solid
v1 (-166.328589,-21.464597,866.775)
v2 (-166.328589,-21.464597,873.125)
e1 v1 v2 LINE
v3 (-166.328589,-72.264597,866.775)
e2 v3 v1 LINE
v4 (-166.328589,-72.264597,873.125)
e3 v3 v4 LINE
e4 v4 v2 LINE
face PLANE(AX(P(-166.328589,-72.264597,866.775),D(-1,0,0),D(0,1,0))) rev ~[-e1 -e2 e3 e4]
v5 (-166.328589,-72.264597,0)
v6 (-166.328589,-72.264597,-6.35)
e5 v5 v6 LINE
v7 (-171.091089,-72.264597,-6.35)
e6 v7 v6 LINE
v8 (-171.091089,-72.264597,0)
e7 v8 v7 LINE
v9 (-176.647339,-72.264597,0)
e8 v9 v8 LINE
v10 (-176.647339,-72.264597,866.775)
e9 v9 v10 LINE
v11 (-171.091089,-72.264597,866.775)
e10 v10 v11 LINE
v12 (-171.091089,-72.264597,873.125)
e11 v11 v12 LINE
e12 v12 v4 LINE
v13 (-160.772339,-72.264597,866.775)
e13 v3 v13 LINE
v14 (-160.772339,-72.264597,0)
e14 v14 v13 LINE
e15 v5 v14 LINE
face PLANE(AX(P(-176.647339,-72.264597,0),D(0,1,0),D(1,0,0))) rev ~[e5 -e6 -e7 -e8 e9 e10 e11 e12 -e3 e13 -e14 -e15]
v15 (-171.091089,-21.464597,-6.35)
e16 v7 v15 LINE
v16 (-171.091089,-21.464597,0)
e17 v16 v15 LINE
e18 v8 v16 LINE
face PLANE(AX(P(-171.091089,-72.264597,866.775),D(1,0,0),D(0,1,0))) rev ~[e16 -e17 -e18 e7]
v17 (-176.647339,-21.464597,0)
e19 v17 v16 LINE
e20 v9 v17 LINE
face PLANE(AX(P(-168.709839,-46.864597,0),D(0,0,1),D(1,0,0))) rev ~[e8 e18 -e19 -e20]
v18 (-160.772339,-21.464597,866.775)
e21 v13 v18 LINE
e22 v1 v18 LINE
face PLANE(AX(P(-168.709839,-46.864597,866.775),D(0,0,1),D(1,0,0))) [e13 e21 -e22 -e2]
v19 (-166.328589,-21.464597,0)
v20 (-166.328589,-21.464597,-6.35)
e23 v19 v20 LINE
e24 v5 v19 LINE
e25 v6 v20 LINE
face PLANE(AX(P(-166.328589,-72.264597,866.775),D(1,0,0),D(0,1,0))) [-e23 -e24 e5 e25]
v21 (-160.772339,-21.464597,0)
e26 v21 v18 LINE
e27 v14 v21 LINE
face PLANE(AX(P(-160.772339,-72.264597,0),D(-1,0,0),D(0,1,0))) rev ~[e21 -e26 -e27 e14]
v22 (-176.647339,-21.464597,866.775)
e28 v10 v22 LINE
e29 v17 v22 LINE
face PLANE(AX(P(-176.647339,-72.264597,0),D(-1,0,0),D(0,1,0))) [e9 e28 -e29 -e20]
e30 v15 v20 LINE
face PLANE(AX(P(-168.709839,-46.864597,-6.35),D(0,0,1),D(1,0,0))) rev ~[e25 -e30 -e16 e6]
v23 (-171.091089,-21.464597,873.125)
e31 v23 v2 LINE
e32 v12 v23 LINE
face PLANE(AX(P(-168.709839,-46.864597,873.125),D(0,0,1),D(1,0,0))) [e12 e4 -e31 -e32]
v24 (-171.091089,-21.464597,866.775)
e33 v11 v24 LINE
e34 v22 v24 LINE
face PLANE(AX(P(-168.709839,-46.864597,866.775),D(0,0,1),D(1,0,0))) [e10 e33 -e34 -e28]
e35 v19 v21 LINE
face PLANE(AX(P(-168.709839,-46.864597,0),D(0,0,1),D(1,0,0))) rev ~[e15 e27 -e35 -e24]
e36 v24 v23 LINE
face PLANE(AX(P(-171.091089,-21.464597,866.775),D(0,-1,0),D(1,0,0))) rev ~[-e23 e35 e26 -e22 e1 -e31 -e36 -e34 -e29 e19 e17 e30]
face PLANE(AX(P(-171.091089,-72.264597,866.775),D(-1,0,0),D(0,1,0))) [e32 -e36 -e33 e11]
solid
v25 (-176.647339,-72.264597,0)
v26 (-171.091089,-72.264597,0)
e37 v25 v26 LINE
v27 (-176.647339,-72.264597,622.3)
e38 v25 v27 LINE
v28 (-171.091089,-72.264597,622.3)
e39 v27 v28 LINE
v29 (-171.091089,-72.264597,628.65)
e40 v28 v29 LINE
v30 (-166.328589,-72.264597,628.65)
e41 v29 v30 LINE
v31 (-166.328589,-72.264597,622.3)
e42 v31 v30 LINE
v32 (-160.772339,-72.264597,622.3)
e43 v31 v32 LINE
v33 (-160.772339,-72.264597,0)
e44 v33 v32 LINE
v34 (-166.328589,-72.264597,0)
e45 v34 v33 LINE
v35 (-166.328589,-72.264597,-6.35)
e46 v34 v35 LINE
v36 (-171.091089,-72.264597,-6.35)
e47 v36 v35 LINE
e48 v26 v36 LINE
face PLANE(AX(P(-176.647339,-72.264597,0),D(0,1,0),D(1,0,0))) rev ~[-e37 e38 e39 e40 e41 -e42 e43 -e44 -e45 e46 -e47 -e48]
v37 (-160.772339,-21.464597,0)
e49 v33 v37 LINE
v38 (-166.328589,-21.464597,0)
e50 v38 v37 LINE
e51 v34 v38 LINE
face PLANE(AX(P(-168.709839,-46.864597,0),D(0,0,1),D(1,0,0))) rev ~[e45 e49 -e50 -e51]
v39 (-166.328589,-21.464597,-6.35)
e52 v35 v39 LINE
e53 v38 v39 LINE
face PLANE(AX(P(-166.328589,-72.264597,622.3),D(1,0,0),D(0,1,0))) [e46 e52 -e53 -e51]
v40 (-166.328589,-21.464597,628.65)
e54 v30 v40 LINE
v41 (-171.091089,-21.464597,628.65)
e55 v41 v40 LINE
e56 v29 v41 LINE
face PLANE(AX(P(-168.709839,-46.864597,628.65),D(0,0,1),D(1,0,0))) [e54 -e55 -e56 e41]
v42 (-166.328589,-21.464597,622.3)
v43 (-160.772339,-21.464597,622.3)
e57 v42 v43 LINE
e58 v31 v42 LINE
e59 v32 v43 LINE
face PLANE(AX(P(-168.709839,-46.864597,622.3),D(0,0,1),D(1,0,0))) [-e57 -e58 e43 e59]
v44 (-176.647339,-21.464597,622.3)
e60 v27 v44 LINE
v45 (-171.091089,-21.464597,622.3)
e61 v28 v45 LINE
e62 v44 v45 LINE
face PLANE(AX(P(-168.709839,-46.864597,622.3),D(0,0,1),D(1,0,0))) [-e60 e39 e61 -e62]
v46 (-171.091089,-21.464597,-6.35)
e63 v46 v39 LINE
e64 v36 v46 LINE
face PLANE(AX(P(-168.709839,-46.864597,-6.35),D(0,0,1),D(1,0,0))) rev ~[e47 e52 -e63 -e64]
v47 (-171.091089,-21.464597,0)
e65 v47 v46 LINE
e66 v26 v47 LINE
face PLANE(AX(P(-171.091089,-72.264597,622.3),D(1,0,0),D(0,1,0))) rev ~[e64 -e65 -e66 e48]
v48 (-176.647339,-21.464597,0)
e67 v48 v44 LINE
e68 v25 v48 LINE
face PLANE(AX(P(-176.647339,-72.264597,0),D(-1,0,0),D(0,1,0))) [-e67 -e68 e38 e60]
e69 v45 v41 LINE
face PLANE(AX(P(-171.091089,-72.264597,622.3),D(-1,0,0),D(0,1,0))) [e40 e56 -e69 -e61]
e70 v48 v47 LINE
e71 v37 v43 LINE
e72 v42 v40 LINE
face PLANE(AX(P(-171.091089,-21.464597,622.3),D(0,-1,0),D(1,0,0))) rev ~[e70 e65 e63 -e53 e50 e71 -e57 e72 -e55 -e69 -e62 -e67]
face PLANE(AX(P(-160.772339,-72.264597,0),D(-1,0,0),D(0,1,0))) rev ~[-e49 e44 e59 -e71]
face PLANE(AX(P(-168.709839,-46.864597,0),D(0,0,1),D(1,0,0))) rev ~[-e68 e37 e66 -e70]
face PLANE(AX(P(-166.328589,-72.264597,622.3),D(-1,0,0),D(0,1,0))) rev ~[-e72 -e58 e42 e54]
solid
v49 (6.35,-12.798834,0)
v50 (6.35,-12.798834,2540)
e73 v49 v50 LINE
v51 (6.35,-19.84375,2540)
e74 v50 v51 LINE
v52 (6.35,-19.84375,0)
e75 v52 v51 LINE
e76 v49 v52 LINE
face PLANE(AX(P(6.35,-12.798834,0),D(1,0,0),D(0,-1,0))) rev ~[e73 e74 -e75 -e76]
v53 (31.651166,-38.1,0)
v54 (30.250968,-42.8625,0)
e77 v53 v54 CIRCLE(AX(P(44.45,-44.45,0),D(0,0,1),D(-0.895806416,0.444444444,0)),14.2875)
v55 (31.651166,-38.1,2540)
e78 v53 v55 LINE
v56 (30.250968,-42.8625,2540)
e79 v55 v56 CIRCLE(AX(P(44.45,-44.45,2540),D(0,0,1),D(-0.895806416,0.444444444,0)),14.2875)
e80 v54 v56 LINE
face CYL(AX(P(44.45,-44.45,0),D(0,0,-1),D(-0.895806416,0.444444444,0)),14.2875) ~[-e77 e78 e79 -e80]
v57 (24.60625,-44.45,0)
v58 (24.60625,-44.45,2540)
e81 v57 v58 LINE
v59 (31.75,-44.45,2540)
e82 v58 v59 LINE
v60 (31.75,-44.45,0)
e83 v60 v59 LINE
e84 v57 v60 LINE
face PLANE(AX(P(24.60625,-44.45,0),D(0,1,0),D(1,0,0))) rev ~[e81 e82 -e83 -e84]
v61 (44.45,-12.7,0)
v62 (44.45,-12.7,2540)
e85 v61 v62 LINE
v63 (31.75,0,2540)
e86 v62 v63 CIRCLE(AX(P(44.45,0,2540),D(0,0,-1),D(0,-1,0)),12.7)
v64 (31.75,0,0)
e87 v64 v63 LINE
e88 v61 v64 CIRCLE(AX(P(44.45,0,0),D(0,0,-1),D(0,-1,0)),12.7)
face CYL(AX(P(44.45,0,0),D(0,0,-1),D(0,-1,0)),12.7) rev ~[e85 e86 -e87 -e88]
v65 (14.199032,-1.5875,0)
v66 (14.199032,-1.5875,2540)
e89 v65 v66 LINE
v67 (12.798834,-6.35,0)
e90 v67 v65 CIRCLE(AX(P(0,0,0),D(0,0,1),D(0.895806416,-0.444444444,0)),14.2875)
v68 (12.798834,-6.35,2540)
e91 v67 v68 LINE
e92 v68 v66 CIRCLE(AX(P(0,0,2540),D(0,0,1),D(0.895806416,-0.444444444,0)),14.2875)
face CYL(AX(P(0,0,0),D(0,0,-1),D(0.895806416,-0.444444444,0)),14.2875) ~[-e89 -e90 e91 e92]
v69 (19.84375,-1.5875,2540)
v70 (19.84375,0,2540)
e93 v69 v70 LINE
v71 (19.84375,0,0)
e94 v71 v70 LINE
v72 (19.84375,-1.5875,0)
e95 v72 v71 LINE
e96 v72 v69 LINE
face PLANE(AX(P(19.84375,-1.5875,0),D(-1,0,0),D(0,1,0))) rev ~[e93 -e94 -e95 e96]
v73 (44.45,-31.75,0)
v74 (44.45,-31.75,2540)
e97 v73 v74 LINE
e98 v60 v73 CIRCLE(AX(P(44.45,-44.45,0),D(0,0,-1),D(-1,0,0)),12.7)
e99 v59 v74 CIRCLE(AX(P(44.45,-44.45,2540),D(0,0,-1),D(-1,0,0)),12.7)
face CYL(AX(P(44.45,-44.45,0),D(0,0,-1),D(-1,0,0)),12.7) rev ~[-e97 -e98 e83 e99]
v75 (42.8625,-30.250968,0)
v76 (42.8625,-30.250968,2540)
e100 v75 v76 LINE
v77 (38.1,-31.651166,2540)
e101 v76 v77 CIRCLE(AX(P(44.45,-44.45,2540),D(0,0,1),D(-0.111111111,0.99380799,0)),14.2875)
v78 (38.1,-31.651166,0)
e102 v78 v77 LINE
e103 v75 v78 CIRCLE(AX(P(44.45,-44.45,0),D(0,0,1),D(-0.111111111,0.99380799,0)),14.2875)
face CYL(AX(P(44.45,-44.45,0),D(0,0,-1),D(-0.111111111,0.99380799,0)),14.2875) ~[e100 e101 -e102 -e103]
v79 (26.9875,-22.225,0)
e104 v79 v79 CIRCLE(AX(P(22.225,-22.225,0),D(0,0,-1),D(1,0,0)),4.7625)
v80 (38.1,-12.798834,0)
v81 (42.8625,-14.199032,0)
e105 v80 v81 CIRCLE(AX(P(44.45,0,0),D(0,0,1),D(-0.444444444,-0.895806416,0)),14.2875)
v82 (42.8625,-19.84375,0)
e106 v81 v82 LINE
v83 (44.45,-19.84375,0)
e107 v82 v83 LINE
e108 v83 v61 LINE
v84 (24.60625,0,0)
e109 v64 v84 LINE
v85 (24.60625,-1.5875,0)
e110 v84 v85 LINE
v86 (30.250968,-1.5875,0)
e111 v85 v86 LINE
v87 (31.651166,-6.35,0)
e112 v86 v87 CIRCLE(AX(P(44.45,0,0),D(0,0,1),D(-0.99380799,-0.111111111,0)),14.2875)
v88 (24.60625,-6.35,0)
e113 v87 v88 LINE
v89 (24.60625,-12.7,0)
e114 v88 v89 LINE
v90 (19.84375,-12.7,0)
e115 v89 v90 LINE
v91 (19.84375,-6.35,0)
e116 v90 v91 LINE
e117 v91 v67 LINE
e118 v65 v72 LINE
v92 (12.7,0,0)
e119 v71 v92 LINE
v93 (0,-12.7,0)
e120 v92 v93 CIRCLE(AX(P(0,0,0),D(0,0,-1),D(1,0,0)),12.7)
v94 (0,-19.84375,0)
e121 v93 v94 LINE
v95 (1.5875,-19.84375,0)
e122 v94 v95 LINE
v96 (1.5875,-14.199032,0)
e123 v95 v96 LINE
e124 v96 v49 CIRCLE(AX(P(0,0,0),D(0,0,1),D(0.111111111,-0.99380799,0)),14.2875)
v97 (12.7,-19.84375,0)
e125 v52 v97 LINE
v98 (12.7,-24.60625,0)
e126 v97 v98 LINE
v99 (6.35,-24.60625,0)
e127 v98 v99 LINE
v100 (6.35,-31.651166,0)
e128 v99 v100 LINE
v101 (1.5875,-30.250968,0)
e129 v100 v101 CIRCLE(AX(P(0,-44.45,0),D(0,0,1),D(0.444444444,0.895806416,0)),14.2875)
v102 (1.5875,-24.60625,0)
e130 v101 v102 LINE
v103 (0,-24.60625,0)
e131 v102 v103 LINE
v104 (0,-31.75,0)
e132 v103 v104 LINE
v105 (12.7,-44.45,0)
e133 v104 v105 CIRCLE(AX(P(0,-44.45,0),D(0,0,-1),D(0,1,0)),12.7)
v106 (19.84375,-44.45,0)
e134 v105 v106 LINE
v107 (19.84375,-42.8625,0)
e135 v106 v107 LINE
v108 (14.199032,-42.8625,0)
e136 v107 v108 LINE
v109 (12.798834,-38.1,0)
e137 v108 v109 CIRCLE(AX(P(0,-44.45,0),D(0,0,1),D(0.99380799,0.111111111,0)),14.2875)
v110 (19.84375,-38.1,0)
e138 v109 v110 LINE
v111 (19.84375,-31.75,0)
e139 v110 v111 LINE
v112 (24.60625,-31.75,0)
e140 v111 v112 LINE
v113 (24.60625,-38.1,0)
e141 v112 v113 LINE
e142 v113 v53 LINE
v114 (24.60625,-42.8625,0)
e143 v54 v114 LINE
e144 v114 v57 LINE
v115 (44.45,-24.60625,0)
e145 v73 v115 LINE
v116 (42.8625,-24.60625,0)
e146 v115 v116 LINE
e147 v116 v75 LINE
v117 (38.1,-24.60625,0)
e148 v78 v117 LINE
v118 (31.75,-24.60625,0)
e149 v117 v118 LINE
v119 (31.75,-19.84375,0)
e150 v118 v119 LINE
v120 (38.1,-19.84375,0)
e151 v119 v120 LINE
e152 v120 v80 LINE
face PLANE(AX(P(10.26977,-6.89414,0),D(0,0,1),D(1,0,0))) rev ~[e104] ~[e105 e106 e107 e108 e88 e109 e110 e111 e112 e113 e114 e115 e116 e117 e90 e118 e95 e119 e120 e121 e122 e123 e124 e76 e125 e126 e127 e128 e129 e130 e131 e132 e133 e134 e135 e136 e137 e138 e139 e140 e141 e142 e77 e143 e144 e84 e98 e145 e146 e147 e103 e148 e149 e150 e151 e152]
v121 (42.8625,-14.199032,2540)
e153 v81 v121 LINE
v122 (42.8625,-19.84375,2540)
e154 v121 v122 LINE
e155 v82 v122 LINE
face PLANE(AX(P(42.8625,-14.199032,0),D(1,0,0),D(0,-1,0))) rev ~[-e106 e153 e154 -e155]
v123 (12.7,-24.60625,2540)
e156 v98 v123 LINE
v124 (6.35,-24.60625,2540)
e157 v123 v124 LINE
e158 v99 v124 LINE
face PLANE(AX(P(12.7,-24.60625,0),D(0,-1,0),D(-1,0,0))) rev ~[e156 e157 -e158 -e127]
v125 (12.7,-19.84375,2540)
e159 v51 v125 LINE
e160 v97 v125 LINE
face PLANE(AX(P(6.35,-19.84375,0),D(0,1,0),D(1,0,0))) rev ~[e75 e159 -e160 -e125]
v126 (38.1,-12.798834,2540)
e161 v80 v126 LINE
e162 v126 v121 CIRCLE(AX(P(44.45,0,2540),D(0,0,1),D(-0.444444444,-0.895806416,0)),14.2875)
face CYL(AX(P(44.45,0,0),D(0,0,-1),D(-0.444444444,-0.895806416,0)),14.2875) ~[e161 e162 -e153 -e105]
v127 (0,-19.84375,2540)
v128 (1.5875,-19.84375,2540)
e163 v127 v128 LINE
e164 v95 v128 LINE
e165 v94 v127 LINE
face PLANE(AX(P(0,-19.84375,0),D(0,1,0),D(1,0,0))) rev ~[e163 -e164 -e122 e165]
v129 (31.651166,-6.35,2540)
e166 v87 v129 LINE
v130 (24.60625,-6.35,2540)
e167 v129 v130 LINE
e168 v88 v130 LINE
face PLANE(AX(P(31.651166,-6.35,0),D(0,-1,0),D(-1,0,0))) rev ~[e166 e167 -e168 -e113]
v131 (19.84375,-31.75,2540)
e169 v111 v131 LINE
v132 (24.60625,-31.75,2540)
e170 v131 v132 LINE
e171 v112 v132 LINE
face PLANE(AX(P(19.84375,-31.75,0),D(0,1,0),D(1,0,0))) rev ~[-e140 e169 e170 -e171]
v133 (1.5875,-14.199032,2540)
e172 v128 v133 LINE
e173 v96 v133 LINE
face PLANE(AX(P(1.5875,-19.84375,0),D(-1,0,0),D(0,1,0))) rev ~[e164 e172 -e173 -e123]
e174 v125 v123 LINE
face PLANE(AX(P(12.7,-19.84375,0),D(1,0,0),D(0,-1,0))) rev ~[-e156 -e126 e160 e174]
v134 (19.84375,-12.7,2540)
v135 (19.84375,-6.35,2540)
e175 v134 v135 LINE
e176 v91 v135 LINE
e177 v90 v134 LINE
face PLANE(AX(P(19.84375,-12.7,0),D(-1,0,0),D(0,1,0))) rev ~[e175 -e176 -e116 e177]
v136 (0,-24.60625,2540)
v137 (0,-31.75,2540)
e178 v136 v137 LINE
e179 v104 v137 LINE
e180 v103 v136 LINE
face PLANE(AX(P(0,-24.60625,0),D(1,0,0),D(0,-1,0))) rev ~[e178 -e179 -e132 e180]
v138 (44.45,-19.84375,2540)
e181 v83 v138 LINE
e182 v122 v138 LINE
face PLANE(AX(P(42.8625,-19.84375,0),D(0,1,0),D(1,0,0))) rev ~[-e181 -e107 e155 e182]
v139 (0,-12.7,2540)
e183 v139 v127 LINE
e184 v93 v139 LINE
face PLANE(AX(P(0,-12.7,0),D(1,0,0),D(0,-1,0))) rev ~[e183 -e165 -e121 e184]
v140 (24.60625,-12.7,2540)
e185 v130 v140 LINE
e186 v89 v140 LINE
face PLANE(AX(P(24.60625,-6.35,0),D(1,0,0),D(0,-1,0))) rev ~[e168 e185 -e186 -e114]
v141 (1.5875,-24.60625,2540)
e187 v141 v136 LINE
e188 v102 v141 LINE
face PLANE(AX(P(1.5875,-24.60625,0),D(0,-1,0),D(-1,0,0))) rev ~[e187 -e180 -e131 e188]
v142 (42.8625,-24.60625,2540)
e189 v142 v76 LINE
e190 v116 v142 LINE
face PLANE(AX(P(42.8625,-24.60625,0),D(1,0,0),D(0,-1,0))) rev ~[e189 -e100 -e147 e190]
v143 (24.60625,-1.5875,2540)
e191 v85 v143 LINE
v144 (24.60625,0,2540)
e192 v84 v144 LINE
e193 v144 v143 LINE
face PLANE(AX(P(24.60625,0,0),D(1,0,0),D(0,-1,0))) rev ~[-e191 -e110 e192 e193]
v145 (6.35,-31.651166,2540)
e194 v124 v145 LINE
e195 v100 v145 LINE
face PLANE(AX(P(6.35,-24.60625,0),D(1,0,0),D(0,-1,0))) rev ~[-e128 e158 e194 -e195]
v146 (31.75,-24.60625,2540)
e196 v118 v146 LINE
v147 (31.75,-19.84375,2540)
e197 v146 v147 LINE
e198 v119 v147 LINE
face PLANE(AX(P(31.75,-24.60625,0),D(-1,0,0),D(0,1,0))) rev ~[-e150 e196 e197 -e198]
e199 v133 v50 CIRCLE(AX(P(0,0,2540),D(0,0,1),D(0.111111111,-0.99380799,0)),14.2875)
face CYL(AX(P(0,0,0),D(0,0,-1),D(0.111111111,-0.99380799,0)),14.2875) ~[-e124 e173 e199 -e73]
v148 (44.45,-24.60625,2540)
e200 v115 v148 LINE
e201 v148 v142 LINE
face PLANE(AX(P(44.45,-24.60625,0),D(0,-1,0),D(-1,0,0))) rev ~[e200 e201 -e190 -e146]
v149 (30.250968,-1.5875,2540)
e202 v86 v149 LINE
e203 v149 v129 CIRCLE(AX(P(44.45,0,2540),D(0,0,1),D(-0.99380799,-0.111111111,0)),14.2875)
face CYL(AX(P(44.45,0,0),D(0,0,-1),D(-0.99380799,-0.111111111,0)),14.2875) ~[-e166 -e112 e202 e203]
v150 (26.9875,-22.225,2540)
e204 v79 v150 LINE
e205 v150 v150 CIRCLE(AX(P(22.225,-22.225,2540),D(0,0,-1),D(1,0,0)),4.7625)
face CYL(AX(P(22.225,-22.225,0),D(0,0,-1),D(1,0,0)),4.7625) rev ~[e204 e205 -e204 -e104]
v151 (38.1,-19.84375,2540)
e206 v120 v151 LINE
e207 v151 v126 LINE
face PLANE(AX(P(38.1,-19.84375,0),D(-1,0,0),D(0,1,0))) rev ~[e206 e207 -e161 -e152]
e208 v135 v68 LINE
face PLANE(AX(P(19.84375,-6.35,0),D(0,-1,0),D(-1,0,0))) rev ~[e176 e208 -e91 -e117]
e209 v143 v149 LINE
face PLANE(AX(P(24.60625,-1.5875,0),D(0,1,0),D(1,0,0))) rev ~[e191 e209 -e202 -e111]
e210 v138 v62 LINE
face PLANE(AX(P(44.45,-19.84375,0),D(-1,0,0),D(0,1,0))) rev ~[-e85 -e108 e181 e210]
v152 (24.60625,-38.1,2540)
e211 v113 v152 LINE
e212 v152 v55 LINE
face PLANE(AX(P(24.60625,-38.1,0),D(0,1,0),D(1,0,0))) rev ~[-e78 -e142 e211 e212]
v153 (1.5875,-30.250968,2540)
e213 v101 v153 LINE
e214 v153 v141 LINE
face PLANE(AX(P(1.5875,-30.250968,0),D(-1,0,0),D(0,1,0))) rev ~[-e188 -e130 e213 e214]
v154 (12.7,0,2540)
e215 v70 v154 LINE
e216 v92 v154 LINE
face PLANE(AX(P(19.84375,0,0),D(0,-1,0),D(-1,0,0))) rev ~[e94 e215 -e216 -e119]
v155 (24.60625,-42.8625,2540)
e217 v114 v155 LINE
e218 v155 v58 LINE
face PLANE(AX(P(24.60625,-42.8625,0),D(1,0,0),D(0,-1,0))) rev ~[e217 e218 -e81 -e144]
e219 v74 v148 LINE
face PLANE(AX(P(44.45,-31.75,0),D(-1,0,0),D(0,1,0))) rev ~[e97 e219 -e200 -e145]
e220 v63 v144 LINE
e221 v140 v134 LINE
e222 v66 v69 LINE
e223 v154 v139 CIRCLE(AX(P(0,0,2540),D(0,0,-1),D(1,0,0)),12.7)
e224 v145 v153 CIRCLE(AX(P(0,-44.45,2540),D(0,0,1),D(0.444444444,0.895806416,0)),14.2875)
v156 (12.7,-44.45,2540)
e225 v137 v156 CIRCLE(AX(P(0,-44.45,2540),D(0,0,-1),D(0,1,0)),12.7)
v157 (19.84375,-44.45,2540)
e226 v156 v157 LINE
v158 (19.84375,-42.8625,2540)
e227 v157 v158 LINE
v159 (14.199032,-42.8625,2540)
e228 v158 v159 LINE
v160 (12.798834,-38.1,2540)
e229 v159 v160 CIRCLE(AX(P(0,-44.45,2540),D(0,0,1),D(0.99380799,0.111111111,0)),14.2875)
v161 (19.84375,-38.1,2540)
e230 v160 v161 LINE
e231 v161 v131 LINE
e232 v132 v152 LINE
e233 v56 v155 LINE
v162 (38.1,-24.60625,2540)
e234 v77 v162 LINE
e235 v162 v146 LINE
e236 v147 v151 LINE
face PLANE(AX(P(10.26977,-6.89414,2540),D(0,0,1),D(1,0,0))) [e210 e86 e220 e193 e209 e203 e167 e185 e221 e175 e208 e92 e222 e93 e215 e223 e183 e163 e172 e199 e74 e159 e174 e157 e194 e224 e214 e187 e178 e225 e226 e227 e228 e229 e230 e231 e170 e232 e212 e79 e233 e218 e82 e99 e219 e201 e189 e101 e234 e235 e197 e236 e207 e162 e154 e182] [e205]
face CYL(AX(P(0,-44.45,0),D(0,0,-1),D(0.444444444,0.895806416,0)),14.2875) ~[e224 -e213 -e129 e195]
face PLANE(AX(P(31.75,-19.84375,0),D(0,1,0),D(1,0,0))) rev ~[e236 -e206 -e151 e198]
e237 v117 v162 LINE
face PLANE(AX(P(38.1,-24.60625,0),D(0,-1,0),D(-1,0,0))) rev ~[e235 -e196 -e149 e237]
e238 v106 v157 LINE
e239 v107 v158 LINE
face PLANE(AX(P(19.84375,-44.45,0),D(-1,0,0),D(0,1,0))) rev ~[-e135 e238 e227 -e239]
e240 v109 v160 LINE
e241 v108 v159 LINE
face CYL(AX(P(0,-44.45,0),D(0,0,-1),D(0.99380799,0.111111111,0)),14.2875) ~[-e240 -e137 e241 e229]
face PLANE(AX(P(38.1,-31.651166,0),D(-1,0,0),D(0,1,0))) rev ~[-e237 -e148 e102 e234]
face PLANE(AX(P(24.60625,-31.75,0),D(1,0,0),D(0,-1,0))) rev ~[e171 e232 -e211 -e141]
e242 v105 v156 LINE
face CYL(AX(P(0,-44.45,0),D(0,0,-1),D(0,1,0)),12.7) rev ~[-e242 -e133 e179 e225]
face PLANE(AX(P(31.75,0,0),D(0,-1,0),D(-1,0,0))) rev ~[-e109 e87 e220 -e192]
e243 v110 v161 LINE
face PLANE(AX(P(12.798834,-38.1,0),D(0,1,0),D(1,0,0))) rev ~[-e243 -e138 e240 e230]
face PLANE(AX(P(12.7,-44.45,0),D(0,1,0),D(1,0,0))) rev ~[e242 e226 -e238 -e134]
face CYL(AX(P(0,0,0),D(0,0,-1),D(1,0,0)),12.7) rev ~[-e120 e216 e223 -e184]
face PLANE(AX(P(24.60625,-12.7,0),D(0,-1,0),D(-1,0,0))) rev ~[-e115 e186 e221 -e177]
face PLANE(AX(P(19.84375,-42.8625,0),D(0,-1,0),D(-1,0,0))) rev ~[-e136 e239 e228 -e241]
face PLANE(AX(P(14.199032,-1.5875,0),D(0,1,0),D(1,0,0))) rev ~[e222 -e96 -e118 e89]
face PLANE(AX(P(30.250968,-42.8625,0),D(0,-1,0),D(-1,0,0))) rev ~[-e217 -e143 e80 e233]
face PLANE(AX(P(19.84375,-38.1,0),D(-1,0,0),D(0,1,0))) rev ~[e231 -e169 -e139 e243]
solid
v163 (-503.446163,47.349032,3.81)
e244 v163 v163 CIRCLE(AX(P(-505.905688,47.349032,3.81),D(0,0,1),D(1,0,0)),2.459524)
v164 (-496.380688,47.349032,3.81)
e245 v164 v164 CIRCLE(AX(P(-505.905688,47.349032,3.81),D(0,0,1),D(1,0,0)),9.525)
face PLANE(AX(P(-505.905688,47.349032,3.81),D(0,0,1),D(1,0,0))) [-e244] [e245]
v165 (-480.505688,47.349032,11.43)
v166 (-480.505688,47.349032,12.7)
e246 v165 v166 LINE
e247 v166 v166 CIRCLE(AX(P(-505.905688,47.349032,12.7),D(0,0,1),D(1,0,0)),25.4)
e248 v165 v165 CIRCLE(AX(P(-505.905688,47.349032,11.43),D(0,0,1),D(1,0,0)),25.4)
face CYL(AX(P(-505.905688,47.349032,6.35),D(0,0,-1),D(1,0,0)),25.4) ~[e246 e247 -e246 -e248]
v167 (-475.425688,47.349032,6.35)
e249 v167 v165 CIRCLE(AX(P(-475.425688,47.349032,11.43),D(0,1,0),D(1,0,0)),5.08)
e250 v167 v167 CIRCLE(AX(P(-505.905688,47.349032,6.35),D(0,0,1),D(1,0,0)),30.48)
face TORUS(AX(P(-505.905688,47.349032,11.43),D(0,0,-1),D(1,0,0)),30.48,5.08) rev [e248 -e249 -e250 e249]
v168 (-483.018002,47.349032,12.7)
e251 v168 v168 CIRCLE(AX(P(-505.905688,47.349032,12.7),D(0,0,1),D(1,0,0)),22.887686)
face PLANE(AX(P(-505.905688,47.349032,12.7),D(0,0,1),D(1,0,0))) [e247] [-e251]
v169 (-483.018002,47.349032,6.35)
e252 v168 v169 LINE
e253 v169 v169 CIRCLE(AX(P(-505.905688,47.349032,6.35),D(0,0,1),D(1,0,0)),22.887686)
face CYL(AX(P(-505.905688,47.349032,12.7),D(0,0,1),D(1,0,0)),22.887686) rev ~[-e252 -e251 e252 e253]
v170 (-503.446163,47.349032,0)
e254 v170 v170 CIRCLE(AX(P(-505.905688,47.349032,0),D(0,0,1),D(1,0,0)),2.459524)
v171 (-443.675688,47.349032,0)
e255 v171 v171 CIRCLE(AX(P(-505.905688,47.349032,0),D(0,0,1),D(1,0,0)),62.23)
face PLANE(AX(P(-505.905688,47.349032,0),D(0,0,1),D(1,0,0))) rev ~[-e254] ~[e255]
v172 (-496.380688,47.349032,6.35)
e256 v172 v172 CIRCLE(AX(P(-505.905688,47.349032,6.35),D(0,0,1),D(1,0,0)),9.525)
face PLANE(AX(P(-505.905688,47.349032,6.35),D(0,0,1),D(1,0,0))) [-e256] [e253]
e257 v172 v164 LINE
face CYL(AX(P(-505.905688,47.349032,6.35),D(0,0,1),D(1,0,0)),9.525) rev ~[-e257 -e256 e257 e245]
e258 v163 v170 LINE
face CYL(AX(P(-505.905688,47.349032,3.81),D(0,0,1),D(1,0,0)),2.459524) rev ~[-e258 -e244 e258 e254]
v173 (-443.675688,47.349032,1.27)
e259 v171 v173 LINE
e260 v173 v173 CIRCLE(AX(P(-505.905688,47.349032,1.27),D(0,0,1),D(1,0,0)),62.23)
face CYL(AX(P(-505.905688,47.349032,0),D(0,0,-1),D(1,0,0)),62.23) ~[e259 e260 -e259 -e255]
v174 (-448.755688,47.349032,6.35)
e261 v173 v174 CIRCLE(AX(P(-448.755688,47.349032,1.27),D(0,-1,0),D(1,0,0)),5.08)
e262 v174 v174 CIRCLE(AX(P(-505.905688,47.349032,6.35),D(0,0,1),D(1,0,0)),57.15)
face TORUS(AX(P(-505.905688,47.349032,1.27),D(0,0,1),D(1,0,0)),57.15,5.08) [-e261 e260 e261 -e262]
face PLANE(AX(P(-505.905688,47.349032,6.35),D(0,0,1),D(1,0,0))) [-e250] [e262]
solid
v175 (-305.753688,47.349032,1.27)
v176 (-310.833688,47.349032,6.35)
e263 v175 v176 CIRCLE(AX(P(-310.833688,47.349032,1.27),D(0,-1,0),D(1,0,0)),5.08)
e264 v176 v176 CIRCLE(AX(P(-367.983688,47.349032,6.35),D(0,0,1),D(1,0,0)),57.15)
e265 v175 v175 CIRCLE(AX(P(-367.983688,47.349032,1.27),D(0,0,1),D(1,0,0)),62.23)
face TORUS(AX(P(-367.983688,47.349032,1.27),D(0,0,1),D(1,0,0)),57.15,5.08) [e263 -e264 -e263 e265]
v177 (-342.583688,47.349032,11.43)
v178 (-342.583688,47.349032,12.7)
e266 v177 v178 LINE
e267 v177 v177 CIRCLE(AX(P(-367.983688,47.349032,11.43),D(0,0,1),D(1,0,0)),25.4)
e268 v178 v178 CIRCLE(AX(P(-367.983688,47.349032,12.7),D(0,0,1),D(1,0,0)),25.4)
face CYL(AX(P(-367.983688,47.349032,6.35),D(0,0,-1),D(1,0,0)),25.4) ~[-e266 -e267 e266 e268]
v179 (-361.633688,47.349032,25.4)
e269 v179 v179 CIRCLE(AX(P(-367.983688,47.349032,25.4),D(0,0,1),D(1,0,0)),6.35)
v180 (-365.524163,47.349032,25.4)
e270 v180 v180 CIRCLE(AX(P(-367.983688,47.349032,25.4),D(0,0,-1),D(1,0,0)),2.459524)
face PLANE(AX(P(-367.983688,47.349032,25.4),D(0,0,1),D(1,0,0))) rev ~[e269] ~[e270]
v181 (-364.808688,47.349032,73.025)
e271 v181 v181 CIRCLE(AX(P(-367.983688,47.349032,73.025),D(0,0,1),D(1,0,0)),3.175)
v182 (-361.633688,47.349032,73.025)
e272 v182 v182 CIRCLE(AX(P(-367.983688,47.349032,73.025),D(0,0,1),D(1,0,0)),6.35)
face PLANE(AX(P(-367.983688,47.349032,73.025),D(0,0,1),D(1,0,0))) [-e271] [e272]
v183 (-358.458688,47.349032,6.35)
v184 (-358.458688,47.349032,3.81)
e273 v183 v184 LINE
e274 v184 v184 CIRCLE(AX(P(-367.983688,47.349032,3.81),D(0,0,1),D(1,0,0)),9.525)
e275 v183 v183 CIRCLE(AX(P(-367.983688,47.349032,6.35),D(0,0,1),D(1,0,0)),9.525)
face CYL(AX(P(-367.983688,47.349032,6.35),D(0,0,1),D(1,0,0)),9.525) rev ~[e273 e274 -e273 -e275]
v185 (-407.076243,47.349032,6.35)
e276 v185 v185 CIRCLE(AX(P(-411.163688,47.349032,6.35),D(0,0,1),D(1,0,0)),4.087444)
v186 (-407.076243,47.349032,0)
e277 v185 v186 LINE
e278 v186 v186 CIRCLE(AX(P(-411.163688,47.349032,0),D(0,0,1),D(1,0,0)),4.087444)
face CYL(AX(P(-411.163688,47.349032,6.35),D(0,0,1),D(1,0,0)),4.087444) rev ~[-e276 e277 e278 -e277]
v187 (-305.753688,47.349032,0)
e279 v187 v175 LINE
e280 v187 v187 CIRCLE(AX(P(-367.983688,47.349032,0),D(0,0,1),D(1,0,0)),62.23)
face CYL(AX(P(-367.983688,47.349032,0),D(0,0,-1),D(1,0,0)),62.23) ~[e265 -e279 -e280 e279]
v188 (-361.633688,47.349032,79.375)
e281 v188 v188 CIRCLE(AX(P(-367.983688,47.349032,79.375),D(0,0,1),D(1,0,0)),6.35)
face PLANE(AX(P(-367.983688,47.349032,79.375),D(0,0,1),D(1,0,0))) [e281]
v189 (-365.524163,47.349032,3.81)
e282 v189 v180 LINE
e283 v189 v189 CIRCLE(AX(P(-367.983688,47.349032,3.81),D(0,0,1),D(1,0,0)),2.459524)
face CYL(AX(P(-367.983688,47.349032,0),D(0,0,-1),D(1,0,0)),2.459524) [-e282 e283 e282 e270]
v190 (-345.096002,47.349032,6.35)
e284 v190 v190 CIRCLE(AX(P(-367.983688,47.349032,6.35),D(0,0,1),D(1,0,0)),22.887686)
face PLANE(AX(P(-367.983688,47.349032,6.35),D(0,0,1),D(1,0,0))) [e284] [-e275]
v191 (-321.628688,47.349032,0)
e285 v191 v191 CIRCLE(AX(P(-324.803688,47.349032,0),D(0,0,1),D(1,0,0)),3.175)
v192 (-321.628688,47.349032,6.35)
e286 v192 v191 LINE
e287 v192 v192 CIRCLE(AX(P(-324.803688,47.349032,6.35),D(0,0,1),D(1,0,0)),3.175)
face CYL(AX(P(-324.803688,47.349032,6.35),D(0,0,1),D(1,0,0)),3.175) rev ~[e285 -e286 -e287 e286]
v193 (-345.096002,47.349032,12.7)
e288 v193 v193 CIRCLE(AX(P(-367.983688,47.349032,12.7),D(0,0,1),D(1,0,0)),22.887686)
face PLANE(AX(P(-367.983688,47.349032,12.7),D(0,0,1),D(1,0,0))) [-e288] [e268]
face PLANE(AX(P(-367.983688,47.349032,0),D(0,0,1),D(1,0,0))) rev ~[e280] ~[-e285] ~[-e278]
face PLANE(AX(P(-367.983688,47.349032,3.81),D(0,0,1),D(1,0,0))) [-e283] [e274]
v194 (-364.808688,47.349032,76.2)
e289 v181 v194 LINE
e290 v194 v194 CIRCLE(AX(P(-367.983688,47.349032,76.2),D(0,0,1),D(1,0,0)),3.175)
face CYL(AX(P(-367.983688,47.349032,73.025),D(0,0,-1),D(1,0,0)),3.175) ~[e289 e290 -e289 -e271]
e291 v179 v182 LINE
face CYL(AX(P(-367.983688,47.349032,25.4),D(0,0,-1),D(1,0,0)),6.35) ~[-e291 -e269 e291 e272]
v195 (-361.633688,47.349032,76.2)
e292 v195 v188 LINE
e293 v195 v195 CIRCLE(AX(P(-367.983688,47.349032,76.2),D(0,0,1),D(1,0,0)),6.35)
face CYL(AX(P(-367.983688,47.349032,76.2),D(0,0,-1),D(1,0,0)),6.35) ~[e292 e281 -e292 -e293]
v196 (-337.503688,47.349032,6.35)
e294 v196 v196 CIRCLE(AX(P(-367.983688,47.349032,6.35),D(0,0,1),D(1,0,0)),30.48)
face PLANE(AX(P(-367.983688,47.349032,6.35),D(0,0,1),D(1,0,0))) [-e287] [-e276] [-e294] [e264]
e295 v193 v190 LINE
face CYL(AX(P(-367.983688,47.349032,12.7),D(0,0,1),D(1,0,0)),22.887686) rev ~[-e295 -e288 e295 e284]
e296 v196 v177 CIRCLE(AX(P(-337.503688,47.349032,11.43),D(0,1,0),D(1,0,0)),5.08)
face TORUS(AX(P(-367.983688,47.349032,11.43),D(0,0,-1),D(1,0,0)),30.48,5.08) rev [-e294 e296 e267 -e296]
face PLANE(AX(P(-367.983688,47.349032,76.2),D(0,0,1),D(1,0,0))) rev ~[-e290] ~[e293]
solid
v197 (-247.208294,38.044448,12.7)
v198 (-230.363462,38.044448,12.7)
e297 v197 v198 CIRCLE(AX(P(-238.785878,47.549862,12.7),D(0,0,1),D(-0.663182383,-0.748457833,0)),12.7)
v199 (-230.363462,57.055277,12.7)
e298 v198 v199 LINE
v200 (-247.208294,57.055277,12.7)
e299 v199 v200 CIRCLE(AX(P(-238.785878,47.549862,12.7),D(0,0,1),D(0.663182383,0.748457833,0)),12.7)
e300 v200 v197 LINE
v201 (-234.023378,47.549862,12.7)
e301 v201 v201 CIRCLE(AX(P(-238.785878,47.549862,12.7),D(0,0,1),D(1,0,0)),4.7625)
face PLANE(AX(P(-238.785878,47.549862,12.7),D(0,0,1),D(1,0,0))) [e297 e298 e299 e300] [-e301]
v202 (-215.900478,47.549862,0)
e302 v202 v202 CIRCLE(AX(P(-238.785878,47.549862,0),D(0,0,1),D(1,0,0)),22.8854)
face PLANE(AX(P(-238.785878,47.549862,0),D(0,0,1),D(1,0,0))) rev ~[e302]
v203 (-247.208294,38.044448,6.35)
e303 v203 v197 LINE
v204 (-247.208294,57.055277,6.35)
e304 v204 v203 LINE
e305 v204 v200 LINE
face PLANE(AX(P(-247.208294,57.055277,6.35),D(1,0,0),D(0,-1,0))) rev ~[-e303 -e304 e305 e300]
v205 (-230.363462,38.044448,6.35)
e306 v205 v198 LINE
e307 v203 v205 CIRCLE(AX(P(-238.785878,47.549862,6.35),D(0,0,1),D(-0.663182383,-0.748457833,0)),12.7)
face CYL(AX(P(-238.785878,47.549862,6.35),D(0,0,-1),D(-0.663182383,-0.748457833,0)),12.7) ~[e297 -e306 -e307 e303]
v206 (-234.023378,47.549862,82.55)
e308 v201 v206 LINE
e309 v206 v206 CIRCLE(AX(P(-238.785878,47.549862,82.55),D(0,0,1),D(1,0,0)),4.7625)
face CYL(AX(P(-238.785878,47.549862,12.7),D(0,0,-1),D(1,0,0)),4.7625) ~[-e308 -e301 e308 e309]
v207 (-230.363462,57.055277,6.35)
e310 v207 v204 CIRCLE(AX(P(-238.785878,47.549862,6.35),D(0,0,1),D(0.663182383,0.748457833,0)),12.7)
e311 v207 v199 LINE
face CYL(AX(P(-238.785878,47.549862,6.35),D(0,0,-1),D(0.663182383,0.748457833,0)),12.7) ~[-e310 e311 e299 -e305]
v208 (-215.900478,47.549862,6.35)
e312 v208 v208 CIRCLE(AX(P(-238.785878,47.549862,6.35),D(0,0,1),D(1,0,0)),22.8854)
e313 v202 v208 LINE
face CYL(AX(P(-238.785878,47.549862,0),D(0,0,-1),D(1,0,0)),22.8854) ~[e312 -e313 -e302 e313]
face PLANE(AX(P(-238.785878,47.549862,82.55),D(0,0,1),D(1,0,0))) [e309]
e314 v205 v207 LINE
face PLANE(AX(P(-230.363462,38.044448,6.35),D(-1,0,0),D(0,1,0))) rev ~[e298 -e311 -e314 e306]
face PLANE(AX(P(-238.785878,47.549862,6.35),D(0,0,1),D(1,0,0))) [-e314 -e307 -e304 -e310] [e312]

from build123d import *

# Parameters (mm, degrees)
F1_DEPTH       = 2540
F2_R           = 62.23
F3_DEPTH       = 6.35
F4_R           = 25.4
F5_DEPTH       = 6.35
F6_R           = 5.08
F7_R           = 22.8876862752
F8_DEPTH       = 6.35
F9_R           = 9.525
F10_DEPTH      = 2.54
F11_R          = 2.4595244757
F12_DEPTH      = 25.4
F14_R          = 4.0874443812
F14_R_2        = 3.175
F15_DEPTH      = 25.4
F16_R          = 22.8854
F17_DEPTH      = 6.35
F19_DEPTH      = 6.35
F20_R          = 4.7625
F21_DEPTH      = 69.85
F22_R          = 4.7625
F23_DEPTH      = 2540.001
F24_R          = 2.4595244757
F25_DEPTH      = 25.4
F26_R          = 6.35
F27_DEPTH      = 47.625
F28_R          = 3.175
F29_DEPTH      = 3.175
F30_R          = 6.35
F31_DEPTH      = 3.175
F32_W          = 15.875
F32_H          = 50.8
F33_DEPTH      = 866.775
F34_W          = 4.7625
F34_H          = 50.8
F35_DEPTH      = 6.35
F35_DEPTH_BACK = 873.125
F37_W          = 15.875
F37_H          = 50.8
F38_DEPTH      = 622.3
F39_W          = 4.7625
F39_H          = 50.8
F40_DEPTH      = 6.35
F40_DEPTH_BACK = 628.65


with BuildPart() as f1:
    # F0 (on Top) → F1 (new body)
    with BuildSketch(Plane.XY):
        with BuildLine():
            Line((19.84375, 0), (12.7, 0))
            ThreePointArc((12.7, 0), (8.9802561211, -8.9802561211), (0, -12.7))
            Line((0, -12.7), (0, -14.2875))
            ThreePointArc((0, -14.2875), (0.7949815875, -14.2653657691), (1.5875, -14.1990316571))
            ThreePointArc((1.5875, -14.1990316571), (4.0300266512, -13.7073535535), (6.35, -12.7988341754))
            ThreePointArc((6.35, -12.7988341754), (10.1027881362, -10.1027881362), (12.7988341754, -6.35))
            ThreePointArc((12.7988341754, -6.35), (13.7073535535, -4.0300266512), (14.1990316571, -1.5875))
            Line((14.1990316571, -1.5875), (19.84375, -1.5875))
            Line((19.84375, -1.5875), (19.84375, 0))
        make_face()
        with BuildLine():
            ThreePointArc((1.5875, -14.1990316571), (0.7949815875, -14.2653657691), (0, -14.2875))
            Line((0, -14.2875), (0, -19.84375))
            Line((0, -19.84375), (1.5875, -19.84375))
            Line((1.5875, -19.84375), (1.5875, -14.1990316571))
        make_face()
        with BuildLine():
            Line((19.84375, -6.35), (12.7988341754, -6.35))
            ThreePointArc((12.7988341754, -6.35), (10.1027881362, -10.1027881362), (6.35, -12.7988341754))
            Line((6.35, -12.7988341754), (6.35, -19.84375))
            Line((6.35, -19.84375), (12.7, -19.84375))
            Line((12.7, -19.84375), (12.7, -24.60625))
            Line((12.7, -24.60625), (6.35, -24.60625))
            Line((6.35, -24.60625), (6.35, -31.6511658246))
            ThreePointArc((6.35, -31.6511658246), (10.1027881362, -34.3472118638), (12.7988341754, -38.1))
            Line((12.7988341754, -38.1), (19.84375, -38.1))
            Line((19.84375, -38.1), (19.84375, -31.75))
            Line((19.84375, -31.75), (24.60625, -31.75))
            Line((24.60625, -31.75), (24.60625, -38.1))
            Line((24.60625, -38.1), (31.6511658246, -38.1))
            ThreePointArc((31.6511658246, -38.1), (34.3472118638, -34.3472118638), (38.1, -31.6511658246))
            Line((38.1, -31.6511658246), (38.1, -24.60625))
            Line((38.1, -24.60625), (31.75, -24.60625))
            Line((31.75, -24.60625), (31.75, -19.84375))
            Line((31.75, -19.84375), (38.1, -19.84375))
            Line((38.1, -19.84375), (38.1, -12.7988341754))
            ThreePointArc((38.1, -12.7988341754), (34.3472118638, -10.1027881362), (31.6511658246, -6.35))
            Line((31.6511658246, -6.35), (24.60625, -6.35))
            Line((24.60625, -6.35), (24.60625, -12.7))
            Line((24.60625, -12.7), (19.84375, -12.7))
            Line((19.84375, -12.7), (19.84375, -6.35))
        make_face()
        with BuildLine():
            ThreePointArc((30.2509683429, -1.5875), (30.7426464465, -4.0300266512), (31.6511658246, -6.35))
            ThreePointArc((31.6511658246, -6.35), (34.3472118638, -10.1027881362), (38.1, -12.7988341754))
            ThreePointArc((38.1, -12.7988341754), (40.4199733488, -13.7073535535), (42.8625, -14.1990316571))
            Line((42.8625, -14.1990316571), (42.8625, -19.84375))
            Line((42.8625, -19.84375), (44.45, -19.84375))
            Line((44.45, -19.84375), (44.45, -12.7))
            ThreePointArc((44.45, -12.7), (35.4697438789, -8.9802561211), (31.75, 0))
            Line((31.75, 0), (24.60625, 0))
            Line((24.60625, 0), (24.60625, -1.5875))
            Line((24.60625, -1.5875), (30.2509683429, -1.5875))
        make_face()
        with BuildLine():
            ThreePointArc((12.7988341754, -38.1), (10.1027881362, -34.3472118638), (6.35, -31.6511658246))
            ThreePointArc((6.35, -31.6511658246), (4.0300266512, -30.7426464465), (1.5875, -30.2509683429))
            ThreePointArc((1.5875, -30.2509683429), (0.7949815875, -30.1846342309), (0, -30.1625))
            Line((0, -30.1625), (0, -31.75))
            ThreePointArc((0, -31.75), (8.9802561211, -35.4697438789), (12.7, -44.45))
            Line((12.7, -44.45), (19.84375, -44.45))
            Line((19.84375, -44.45), (19.84375, -42.8625))
            Line((19.84375, -42.8625), (14.1990316571, -42.8625))
            ThreePointArc((14.1990316571, -42.8625), (13.7073535535, -40.4199733488), (12.7988341754, -38.1))
        make_face()
        with BuildLine():
            ThreePointArc((0, -30.1625), (0.7949815875, -30.1846342309), (1.5875, -30.2509683429))
            Line((1.5875, -30.2509683429), (1.5875, -24.60625))
            Line((1.5875, -24.60625), (0, -24.60625))
            Line((0, -24.60625), (0, -30.1625))
        make_face()
        with BuildLine():
            ThreePointArc((42.8625, -30.2509683429), (40.4199733488, -30.7426464465), (38.1, -31.6511658246))
            ThreePointArc((38.1, -31.6511658246), (34.3472118638, -34.3472118638), (31.6511658246, -38.1))
            ThreePointArc((31.6511658246, -38.1), (30.7426464465, -40.4199733488), (30.2509683429, -42.8625))
            Line((30.2509683429, -42.8625), (24.60625, -42.8625))
            Line((24.60625, -42.8625), (24.60625, -44.45))
            Line((24.60625, -44.45), (31.75, -44.45))
            ThreePointArc((31.75, -44.45), (35.4697438789, -35.4697438789), (44.45, -31.75))
            Line((44.45, -31.75), (44.45, -24.60625))
            Line((44.45, -24.60625), (42.8625, -24.60625))
            Line((42.8625, -24.60625), (42.8625, -30.2509683429))
        make_face()
    extrude(amount=F1_DEPTH)

    # F22 (on face) → F23 (cut, through all)
    with BuildSketch(Plane(origin=(0, 0, 0), x_dir=(1, 0, 0), z_dir=(0, 0, -1))):
        with Locations((22.225, 22.225)):
            Circle(F22_R)
    extrude(amount=-F23_DEPTH, mode=Mode.SUBTRACT)


with BuildPart() as f3:
    # F2 (on Top) → F3 (new body)
    with BuildSketch(Plane.XY):
        with Locations((-505.905687809, 47.3490320146)):
            Circle(F2_R)
    extrude(amount=F3_DEPTH)

    # F4 (on face) → F5 (join)
    with BuildSketch(Plane.XY.offset(6.35)):
        with Locations((-505.905687809, 47.3490320146)):
            Circle(F4_R)
    extrude(amount=F5_DEPTH)

    # F6
    f6_edges = [f3.edges().sort_by_distance(p)[0] for p in [
        (-531.305688, 47.349032, 6.35),
        (-568.135688, 47.349032, 6.35),
    ]]
    fillet(f6_edges, radius=F6_R)

    # F7 (on face) → F8 (cut)
    with BuildSketch(Plane.XY.offset(12.7)):
        with Locations((-505.905687809, 47.3490320146)):
            Circle(F7_R)
    extrude(amount=-F8_DEPTH, mode=Mode.SUBTRACT)

    # F9 (on face) → F10 (cut)
    with BuildSketch(Plane.XY.offset(6.35)):
        with Locations((-505.905687809, 47.3490320146)):
            Circle(F9_R)
    extrude(amount=-F10_DEPTH, mode=Mode.SUBTRACT)

    # F11 (on face) → F12 (cut)
    with BuildSketch(Plane.XY.offset(3.81)):
        with Locations((-505.905687809, 47.3490320146)):
            Circle(F11_R)
    extrude(amount=-F12_DEPTH, mode=Mode.SUBTRACT)


with BuildPart() as f13_1:
    # F13: copy of F3
    add(f3.part.moved(Location((137.922, 0, 0))))

    # F14 (on face) → F15 (cut)
    with BuildSketch(Plane.XY.offset(6.35)):
        with Locations((-411.163687809, 47.3490320146)):
            Circle(F14_R)
        with Locations((-324.803687809, 47.3490320146)):
            Circle(F14_R_2)
    extrude(amount=-F15_DEPTH, mode=Mode.SUBTRACT)

    # F24 (on face) → F25 (join)
    with BuildSketch(Plane(origin=(0, 0, 0), x_dir=(1, 0, 0), z_dir=(0, 0, -1))):
        with Locations((-367.983687809, -47.3490320146)):
            Circle(F24_R)
    extrude(amount=-F25_DEPTH)

    # F26 (on face) → F27 (join)
    with BuildSketch(Plane.XY.offset(25.4)):
        with Locations((-367.983687809, 47.3490320146)):
            Circle(F26_R)
    extrude(amount=F27_DEPTH)

    # F28 (on face) → F29 (join)
    with BuildSketch(Plane.XY.offset(73.025)):
        with Locations((-367.983687809, 47.3490320146)):
            Circle(F28_R)
    extrude(amount=F29_DEPTH)

    # F30 (on face) → F31 (join)
    with BuildSketch(Plane.XY.offset(76.2)):
        with Locations((-367.983687809, 47.3490320146)):
            Circle(F30_R)
    extrude(amount=F31_DEPTH)


with BuildPart() as f17:
    # F16 (on Top) → F17 (new body)
    with BuildSketch(Plane.XY):
        with Locations((-238.7858778238, 47.5498624146)):
            Circle(F16_R)
    extrude(amount=F17_DEPTH)

    # F18 (on face) → F19 (join)
    with BuildSketch(Plane.XY.offset(6.35)):
        with BuildLine():
            Line((-247.2082940829, 57.0552768905), (-247.2082940829, 38.0444479387))
            ThreePointArc((-247.2082940829, 38.0444479387), (-238.7858778238, 34.8498624146), (-230.3634615647, 38.0444479387))
            Line((-230.3634615647, 38.0444479387), (-230.3634615647, 57.0552768905))
            ThreePointArc((-230.3634615647, 57.0552768905), (-238.7858778238, 60.2498624146), (-247.2082940829, 57.0552768905))
        make_face()
    extrude(amount=F19_DEPTH)

    # F20 (on face) → F21 (join)
    with BuildSketch(Plane.XY.offset(12.7)):
        with Locations((-238.7858778238, 47.5498624146)):
            Circle(F20_R)
    extrude(amount=F21_DEPTH)


with BuildPart() as f33:
    # F32 (on Top) → F33 (new body)
    with BuildSketch(Plane.XY):
        with Locations((-168.7098385096, -46.8645968199)):
            Rectangle(F32_W, F32_H)
    extrude(amount=F33_DEPTH)

    # F34 (on face) → F35 (join, two sides)
    with BuildSketch(Plane.XY.offset(866.775)) as f35_sk:
        with Locations((-168.7098385096, -46.8645968199)):
            Rectangle(F34_W, F34_H)
    extrude(amount=F35_DEPTH)
    extrude(f35_sk.sketch, amount=-F35_DEPTH_BACK)


with BuildPart() as f38:
    # F37 (on Top) → F38 (new body)
    with BuildSketch(Plane.XY):
        with Locations((-168.7098385096, -46.8645968199)):
            Rectangle(F37_W, F37_H)
    extrude(amount=F38_DEPTH)

    # F39 (on face) → F40 (join, two sides)
    with BuildSketch(Plane.XY.offset(622.3)) as f40_sk:
        with Locations((-168.7098385096, -46.8645968199)):
            Rectangle(F39_W, F39_H)
    extrude(amount=F40_DEPTH)
    extrude(f40_sk.sketch, amount=-F40_DEPTH_BACK)


solid = Compound([f1.part, f3.part, f13_1.part, f17.part, f33.part, f38.part])
